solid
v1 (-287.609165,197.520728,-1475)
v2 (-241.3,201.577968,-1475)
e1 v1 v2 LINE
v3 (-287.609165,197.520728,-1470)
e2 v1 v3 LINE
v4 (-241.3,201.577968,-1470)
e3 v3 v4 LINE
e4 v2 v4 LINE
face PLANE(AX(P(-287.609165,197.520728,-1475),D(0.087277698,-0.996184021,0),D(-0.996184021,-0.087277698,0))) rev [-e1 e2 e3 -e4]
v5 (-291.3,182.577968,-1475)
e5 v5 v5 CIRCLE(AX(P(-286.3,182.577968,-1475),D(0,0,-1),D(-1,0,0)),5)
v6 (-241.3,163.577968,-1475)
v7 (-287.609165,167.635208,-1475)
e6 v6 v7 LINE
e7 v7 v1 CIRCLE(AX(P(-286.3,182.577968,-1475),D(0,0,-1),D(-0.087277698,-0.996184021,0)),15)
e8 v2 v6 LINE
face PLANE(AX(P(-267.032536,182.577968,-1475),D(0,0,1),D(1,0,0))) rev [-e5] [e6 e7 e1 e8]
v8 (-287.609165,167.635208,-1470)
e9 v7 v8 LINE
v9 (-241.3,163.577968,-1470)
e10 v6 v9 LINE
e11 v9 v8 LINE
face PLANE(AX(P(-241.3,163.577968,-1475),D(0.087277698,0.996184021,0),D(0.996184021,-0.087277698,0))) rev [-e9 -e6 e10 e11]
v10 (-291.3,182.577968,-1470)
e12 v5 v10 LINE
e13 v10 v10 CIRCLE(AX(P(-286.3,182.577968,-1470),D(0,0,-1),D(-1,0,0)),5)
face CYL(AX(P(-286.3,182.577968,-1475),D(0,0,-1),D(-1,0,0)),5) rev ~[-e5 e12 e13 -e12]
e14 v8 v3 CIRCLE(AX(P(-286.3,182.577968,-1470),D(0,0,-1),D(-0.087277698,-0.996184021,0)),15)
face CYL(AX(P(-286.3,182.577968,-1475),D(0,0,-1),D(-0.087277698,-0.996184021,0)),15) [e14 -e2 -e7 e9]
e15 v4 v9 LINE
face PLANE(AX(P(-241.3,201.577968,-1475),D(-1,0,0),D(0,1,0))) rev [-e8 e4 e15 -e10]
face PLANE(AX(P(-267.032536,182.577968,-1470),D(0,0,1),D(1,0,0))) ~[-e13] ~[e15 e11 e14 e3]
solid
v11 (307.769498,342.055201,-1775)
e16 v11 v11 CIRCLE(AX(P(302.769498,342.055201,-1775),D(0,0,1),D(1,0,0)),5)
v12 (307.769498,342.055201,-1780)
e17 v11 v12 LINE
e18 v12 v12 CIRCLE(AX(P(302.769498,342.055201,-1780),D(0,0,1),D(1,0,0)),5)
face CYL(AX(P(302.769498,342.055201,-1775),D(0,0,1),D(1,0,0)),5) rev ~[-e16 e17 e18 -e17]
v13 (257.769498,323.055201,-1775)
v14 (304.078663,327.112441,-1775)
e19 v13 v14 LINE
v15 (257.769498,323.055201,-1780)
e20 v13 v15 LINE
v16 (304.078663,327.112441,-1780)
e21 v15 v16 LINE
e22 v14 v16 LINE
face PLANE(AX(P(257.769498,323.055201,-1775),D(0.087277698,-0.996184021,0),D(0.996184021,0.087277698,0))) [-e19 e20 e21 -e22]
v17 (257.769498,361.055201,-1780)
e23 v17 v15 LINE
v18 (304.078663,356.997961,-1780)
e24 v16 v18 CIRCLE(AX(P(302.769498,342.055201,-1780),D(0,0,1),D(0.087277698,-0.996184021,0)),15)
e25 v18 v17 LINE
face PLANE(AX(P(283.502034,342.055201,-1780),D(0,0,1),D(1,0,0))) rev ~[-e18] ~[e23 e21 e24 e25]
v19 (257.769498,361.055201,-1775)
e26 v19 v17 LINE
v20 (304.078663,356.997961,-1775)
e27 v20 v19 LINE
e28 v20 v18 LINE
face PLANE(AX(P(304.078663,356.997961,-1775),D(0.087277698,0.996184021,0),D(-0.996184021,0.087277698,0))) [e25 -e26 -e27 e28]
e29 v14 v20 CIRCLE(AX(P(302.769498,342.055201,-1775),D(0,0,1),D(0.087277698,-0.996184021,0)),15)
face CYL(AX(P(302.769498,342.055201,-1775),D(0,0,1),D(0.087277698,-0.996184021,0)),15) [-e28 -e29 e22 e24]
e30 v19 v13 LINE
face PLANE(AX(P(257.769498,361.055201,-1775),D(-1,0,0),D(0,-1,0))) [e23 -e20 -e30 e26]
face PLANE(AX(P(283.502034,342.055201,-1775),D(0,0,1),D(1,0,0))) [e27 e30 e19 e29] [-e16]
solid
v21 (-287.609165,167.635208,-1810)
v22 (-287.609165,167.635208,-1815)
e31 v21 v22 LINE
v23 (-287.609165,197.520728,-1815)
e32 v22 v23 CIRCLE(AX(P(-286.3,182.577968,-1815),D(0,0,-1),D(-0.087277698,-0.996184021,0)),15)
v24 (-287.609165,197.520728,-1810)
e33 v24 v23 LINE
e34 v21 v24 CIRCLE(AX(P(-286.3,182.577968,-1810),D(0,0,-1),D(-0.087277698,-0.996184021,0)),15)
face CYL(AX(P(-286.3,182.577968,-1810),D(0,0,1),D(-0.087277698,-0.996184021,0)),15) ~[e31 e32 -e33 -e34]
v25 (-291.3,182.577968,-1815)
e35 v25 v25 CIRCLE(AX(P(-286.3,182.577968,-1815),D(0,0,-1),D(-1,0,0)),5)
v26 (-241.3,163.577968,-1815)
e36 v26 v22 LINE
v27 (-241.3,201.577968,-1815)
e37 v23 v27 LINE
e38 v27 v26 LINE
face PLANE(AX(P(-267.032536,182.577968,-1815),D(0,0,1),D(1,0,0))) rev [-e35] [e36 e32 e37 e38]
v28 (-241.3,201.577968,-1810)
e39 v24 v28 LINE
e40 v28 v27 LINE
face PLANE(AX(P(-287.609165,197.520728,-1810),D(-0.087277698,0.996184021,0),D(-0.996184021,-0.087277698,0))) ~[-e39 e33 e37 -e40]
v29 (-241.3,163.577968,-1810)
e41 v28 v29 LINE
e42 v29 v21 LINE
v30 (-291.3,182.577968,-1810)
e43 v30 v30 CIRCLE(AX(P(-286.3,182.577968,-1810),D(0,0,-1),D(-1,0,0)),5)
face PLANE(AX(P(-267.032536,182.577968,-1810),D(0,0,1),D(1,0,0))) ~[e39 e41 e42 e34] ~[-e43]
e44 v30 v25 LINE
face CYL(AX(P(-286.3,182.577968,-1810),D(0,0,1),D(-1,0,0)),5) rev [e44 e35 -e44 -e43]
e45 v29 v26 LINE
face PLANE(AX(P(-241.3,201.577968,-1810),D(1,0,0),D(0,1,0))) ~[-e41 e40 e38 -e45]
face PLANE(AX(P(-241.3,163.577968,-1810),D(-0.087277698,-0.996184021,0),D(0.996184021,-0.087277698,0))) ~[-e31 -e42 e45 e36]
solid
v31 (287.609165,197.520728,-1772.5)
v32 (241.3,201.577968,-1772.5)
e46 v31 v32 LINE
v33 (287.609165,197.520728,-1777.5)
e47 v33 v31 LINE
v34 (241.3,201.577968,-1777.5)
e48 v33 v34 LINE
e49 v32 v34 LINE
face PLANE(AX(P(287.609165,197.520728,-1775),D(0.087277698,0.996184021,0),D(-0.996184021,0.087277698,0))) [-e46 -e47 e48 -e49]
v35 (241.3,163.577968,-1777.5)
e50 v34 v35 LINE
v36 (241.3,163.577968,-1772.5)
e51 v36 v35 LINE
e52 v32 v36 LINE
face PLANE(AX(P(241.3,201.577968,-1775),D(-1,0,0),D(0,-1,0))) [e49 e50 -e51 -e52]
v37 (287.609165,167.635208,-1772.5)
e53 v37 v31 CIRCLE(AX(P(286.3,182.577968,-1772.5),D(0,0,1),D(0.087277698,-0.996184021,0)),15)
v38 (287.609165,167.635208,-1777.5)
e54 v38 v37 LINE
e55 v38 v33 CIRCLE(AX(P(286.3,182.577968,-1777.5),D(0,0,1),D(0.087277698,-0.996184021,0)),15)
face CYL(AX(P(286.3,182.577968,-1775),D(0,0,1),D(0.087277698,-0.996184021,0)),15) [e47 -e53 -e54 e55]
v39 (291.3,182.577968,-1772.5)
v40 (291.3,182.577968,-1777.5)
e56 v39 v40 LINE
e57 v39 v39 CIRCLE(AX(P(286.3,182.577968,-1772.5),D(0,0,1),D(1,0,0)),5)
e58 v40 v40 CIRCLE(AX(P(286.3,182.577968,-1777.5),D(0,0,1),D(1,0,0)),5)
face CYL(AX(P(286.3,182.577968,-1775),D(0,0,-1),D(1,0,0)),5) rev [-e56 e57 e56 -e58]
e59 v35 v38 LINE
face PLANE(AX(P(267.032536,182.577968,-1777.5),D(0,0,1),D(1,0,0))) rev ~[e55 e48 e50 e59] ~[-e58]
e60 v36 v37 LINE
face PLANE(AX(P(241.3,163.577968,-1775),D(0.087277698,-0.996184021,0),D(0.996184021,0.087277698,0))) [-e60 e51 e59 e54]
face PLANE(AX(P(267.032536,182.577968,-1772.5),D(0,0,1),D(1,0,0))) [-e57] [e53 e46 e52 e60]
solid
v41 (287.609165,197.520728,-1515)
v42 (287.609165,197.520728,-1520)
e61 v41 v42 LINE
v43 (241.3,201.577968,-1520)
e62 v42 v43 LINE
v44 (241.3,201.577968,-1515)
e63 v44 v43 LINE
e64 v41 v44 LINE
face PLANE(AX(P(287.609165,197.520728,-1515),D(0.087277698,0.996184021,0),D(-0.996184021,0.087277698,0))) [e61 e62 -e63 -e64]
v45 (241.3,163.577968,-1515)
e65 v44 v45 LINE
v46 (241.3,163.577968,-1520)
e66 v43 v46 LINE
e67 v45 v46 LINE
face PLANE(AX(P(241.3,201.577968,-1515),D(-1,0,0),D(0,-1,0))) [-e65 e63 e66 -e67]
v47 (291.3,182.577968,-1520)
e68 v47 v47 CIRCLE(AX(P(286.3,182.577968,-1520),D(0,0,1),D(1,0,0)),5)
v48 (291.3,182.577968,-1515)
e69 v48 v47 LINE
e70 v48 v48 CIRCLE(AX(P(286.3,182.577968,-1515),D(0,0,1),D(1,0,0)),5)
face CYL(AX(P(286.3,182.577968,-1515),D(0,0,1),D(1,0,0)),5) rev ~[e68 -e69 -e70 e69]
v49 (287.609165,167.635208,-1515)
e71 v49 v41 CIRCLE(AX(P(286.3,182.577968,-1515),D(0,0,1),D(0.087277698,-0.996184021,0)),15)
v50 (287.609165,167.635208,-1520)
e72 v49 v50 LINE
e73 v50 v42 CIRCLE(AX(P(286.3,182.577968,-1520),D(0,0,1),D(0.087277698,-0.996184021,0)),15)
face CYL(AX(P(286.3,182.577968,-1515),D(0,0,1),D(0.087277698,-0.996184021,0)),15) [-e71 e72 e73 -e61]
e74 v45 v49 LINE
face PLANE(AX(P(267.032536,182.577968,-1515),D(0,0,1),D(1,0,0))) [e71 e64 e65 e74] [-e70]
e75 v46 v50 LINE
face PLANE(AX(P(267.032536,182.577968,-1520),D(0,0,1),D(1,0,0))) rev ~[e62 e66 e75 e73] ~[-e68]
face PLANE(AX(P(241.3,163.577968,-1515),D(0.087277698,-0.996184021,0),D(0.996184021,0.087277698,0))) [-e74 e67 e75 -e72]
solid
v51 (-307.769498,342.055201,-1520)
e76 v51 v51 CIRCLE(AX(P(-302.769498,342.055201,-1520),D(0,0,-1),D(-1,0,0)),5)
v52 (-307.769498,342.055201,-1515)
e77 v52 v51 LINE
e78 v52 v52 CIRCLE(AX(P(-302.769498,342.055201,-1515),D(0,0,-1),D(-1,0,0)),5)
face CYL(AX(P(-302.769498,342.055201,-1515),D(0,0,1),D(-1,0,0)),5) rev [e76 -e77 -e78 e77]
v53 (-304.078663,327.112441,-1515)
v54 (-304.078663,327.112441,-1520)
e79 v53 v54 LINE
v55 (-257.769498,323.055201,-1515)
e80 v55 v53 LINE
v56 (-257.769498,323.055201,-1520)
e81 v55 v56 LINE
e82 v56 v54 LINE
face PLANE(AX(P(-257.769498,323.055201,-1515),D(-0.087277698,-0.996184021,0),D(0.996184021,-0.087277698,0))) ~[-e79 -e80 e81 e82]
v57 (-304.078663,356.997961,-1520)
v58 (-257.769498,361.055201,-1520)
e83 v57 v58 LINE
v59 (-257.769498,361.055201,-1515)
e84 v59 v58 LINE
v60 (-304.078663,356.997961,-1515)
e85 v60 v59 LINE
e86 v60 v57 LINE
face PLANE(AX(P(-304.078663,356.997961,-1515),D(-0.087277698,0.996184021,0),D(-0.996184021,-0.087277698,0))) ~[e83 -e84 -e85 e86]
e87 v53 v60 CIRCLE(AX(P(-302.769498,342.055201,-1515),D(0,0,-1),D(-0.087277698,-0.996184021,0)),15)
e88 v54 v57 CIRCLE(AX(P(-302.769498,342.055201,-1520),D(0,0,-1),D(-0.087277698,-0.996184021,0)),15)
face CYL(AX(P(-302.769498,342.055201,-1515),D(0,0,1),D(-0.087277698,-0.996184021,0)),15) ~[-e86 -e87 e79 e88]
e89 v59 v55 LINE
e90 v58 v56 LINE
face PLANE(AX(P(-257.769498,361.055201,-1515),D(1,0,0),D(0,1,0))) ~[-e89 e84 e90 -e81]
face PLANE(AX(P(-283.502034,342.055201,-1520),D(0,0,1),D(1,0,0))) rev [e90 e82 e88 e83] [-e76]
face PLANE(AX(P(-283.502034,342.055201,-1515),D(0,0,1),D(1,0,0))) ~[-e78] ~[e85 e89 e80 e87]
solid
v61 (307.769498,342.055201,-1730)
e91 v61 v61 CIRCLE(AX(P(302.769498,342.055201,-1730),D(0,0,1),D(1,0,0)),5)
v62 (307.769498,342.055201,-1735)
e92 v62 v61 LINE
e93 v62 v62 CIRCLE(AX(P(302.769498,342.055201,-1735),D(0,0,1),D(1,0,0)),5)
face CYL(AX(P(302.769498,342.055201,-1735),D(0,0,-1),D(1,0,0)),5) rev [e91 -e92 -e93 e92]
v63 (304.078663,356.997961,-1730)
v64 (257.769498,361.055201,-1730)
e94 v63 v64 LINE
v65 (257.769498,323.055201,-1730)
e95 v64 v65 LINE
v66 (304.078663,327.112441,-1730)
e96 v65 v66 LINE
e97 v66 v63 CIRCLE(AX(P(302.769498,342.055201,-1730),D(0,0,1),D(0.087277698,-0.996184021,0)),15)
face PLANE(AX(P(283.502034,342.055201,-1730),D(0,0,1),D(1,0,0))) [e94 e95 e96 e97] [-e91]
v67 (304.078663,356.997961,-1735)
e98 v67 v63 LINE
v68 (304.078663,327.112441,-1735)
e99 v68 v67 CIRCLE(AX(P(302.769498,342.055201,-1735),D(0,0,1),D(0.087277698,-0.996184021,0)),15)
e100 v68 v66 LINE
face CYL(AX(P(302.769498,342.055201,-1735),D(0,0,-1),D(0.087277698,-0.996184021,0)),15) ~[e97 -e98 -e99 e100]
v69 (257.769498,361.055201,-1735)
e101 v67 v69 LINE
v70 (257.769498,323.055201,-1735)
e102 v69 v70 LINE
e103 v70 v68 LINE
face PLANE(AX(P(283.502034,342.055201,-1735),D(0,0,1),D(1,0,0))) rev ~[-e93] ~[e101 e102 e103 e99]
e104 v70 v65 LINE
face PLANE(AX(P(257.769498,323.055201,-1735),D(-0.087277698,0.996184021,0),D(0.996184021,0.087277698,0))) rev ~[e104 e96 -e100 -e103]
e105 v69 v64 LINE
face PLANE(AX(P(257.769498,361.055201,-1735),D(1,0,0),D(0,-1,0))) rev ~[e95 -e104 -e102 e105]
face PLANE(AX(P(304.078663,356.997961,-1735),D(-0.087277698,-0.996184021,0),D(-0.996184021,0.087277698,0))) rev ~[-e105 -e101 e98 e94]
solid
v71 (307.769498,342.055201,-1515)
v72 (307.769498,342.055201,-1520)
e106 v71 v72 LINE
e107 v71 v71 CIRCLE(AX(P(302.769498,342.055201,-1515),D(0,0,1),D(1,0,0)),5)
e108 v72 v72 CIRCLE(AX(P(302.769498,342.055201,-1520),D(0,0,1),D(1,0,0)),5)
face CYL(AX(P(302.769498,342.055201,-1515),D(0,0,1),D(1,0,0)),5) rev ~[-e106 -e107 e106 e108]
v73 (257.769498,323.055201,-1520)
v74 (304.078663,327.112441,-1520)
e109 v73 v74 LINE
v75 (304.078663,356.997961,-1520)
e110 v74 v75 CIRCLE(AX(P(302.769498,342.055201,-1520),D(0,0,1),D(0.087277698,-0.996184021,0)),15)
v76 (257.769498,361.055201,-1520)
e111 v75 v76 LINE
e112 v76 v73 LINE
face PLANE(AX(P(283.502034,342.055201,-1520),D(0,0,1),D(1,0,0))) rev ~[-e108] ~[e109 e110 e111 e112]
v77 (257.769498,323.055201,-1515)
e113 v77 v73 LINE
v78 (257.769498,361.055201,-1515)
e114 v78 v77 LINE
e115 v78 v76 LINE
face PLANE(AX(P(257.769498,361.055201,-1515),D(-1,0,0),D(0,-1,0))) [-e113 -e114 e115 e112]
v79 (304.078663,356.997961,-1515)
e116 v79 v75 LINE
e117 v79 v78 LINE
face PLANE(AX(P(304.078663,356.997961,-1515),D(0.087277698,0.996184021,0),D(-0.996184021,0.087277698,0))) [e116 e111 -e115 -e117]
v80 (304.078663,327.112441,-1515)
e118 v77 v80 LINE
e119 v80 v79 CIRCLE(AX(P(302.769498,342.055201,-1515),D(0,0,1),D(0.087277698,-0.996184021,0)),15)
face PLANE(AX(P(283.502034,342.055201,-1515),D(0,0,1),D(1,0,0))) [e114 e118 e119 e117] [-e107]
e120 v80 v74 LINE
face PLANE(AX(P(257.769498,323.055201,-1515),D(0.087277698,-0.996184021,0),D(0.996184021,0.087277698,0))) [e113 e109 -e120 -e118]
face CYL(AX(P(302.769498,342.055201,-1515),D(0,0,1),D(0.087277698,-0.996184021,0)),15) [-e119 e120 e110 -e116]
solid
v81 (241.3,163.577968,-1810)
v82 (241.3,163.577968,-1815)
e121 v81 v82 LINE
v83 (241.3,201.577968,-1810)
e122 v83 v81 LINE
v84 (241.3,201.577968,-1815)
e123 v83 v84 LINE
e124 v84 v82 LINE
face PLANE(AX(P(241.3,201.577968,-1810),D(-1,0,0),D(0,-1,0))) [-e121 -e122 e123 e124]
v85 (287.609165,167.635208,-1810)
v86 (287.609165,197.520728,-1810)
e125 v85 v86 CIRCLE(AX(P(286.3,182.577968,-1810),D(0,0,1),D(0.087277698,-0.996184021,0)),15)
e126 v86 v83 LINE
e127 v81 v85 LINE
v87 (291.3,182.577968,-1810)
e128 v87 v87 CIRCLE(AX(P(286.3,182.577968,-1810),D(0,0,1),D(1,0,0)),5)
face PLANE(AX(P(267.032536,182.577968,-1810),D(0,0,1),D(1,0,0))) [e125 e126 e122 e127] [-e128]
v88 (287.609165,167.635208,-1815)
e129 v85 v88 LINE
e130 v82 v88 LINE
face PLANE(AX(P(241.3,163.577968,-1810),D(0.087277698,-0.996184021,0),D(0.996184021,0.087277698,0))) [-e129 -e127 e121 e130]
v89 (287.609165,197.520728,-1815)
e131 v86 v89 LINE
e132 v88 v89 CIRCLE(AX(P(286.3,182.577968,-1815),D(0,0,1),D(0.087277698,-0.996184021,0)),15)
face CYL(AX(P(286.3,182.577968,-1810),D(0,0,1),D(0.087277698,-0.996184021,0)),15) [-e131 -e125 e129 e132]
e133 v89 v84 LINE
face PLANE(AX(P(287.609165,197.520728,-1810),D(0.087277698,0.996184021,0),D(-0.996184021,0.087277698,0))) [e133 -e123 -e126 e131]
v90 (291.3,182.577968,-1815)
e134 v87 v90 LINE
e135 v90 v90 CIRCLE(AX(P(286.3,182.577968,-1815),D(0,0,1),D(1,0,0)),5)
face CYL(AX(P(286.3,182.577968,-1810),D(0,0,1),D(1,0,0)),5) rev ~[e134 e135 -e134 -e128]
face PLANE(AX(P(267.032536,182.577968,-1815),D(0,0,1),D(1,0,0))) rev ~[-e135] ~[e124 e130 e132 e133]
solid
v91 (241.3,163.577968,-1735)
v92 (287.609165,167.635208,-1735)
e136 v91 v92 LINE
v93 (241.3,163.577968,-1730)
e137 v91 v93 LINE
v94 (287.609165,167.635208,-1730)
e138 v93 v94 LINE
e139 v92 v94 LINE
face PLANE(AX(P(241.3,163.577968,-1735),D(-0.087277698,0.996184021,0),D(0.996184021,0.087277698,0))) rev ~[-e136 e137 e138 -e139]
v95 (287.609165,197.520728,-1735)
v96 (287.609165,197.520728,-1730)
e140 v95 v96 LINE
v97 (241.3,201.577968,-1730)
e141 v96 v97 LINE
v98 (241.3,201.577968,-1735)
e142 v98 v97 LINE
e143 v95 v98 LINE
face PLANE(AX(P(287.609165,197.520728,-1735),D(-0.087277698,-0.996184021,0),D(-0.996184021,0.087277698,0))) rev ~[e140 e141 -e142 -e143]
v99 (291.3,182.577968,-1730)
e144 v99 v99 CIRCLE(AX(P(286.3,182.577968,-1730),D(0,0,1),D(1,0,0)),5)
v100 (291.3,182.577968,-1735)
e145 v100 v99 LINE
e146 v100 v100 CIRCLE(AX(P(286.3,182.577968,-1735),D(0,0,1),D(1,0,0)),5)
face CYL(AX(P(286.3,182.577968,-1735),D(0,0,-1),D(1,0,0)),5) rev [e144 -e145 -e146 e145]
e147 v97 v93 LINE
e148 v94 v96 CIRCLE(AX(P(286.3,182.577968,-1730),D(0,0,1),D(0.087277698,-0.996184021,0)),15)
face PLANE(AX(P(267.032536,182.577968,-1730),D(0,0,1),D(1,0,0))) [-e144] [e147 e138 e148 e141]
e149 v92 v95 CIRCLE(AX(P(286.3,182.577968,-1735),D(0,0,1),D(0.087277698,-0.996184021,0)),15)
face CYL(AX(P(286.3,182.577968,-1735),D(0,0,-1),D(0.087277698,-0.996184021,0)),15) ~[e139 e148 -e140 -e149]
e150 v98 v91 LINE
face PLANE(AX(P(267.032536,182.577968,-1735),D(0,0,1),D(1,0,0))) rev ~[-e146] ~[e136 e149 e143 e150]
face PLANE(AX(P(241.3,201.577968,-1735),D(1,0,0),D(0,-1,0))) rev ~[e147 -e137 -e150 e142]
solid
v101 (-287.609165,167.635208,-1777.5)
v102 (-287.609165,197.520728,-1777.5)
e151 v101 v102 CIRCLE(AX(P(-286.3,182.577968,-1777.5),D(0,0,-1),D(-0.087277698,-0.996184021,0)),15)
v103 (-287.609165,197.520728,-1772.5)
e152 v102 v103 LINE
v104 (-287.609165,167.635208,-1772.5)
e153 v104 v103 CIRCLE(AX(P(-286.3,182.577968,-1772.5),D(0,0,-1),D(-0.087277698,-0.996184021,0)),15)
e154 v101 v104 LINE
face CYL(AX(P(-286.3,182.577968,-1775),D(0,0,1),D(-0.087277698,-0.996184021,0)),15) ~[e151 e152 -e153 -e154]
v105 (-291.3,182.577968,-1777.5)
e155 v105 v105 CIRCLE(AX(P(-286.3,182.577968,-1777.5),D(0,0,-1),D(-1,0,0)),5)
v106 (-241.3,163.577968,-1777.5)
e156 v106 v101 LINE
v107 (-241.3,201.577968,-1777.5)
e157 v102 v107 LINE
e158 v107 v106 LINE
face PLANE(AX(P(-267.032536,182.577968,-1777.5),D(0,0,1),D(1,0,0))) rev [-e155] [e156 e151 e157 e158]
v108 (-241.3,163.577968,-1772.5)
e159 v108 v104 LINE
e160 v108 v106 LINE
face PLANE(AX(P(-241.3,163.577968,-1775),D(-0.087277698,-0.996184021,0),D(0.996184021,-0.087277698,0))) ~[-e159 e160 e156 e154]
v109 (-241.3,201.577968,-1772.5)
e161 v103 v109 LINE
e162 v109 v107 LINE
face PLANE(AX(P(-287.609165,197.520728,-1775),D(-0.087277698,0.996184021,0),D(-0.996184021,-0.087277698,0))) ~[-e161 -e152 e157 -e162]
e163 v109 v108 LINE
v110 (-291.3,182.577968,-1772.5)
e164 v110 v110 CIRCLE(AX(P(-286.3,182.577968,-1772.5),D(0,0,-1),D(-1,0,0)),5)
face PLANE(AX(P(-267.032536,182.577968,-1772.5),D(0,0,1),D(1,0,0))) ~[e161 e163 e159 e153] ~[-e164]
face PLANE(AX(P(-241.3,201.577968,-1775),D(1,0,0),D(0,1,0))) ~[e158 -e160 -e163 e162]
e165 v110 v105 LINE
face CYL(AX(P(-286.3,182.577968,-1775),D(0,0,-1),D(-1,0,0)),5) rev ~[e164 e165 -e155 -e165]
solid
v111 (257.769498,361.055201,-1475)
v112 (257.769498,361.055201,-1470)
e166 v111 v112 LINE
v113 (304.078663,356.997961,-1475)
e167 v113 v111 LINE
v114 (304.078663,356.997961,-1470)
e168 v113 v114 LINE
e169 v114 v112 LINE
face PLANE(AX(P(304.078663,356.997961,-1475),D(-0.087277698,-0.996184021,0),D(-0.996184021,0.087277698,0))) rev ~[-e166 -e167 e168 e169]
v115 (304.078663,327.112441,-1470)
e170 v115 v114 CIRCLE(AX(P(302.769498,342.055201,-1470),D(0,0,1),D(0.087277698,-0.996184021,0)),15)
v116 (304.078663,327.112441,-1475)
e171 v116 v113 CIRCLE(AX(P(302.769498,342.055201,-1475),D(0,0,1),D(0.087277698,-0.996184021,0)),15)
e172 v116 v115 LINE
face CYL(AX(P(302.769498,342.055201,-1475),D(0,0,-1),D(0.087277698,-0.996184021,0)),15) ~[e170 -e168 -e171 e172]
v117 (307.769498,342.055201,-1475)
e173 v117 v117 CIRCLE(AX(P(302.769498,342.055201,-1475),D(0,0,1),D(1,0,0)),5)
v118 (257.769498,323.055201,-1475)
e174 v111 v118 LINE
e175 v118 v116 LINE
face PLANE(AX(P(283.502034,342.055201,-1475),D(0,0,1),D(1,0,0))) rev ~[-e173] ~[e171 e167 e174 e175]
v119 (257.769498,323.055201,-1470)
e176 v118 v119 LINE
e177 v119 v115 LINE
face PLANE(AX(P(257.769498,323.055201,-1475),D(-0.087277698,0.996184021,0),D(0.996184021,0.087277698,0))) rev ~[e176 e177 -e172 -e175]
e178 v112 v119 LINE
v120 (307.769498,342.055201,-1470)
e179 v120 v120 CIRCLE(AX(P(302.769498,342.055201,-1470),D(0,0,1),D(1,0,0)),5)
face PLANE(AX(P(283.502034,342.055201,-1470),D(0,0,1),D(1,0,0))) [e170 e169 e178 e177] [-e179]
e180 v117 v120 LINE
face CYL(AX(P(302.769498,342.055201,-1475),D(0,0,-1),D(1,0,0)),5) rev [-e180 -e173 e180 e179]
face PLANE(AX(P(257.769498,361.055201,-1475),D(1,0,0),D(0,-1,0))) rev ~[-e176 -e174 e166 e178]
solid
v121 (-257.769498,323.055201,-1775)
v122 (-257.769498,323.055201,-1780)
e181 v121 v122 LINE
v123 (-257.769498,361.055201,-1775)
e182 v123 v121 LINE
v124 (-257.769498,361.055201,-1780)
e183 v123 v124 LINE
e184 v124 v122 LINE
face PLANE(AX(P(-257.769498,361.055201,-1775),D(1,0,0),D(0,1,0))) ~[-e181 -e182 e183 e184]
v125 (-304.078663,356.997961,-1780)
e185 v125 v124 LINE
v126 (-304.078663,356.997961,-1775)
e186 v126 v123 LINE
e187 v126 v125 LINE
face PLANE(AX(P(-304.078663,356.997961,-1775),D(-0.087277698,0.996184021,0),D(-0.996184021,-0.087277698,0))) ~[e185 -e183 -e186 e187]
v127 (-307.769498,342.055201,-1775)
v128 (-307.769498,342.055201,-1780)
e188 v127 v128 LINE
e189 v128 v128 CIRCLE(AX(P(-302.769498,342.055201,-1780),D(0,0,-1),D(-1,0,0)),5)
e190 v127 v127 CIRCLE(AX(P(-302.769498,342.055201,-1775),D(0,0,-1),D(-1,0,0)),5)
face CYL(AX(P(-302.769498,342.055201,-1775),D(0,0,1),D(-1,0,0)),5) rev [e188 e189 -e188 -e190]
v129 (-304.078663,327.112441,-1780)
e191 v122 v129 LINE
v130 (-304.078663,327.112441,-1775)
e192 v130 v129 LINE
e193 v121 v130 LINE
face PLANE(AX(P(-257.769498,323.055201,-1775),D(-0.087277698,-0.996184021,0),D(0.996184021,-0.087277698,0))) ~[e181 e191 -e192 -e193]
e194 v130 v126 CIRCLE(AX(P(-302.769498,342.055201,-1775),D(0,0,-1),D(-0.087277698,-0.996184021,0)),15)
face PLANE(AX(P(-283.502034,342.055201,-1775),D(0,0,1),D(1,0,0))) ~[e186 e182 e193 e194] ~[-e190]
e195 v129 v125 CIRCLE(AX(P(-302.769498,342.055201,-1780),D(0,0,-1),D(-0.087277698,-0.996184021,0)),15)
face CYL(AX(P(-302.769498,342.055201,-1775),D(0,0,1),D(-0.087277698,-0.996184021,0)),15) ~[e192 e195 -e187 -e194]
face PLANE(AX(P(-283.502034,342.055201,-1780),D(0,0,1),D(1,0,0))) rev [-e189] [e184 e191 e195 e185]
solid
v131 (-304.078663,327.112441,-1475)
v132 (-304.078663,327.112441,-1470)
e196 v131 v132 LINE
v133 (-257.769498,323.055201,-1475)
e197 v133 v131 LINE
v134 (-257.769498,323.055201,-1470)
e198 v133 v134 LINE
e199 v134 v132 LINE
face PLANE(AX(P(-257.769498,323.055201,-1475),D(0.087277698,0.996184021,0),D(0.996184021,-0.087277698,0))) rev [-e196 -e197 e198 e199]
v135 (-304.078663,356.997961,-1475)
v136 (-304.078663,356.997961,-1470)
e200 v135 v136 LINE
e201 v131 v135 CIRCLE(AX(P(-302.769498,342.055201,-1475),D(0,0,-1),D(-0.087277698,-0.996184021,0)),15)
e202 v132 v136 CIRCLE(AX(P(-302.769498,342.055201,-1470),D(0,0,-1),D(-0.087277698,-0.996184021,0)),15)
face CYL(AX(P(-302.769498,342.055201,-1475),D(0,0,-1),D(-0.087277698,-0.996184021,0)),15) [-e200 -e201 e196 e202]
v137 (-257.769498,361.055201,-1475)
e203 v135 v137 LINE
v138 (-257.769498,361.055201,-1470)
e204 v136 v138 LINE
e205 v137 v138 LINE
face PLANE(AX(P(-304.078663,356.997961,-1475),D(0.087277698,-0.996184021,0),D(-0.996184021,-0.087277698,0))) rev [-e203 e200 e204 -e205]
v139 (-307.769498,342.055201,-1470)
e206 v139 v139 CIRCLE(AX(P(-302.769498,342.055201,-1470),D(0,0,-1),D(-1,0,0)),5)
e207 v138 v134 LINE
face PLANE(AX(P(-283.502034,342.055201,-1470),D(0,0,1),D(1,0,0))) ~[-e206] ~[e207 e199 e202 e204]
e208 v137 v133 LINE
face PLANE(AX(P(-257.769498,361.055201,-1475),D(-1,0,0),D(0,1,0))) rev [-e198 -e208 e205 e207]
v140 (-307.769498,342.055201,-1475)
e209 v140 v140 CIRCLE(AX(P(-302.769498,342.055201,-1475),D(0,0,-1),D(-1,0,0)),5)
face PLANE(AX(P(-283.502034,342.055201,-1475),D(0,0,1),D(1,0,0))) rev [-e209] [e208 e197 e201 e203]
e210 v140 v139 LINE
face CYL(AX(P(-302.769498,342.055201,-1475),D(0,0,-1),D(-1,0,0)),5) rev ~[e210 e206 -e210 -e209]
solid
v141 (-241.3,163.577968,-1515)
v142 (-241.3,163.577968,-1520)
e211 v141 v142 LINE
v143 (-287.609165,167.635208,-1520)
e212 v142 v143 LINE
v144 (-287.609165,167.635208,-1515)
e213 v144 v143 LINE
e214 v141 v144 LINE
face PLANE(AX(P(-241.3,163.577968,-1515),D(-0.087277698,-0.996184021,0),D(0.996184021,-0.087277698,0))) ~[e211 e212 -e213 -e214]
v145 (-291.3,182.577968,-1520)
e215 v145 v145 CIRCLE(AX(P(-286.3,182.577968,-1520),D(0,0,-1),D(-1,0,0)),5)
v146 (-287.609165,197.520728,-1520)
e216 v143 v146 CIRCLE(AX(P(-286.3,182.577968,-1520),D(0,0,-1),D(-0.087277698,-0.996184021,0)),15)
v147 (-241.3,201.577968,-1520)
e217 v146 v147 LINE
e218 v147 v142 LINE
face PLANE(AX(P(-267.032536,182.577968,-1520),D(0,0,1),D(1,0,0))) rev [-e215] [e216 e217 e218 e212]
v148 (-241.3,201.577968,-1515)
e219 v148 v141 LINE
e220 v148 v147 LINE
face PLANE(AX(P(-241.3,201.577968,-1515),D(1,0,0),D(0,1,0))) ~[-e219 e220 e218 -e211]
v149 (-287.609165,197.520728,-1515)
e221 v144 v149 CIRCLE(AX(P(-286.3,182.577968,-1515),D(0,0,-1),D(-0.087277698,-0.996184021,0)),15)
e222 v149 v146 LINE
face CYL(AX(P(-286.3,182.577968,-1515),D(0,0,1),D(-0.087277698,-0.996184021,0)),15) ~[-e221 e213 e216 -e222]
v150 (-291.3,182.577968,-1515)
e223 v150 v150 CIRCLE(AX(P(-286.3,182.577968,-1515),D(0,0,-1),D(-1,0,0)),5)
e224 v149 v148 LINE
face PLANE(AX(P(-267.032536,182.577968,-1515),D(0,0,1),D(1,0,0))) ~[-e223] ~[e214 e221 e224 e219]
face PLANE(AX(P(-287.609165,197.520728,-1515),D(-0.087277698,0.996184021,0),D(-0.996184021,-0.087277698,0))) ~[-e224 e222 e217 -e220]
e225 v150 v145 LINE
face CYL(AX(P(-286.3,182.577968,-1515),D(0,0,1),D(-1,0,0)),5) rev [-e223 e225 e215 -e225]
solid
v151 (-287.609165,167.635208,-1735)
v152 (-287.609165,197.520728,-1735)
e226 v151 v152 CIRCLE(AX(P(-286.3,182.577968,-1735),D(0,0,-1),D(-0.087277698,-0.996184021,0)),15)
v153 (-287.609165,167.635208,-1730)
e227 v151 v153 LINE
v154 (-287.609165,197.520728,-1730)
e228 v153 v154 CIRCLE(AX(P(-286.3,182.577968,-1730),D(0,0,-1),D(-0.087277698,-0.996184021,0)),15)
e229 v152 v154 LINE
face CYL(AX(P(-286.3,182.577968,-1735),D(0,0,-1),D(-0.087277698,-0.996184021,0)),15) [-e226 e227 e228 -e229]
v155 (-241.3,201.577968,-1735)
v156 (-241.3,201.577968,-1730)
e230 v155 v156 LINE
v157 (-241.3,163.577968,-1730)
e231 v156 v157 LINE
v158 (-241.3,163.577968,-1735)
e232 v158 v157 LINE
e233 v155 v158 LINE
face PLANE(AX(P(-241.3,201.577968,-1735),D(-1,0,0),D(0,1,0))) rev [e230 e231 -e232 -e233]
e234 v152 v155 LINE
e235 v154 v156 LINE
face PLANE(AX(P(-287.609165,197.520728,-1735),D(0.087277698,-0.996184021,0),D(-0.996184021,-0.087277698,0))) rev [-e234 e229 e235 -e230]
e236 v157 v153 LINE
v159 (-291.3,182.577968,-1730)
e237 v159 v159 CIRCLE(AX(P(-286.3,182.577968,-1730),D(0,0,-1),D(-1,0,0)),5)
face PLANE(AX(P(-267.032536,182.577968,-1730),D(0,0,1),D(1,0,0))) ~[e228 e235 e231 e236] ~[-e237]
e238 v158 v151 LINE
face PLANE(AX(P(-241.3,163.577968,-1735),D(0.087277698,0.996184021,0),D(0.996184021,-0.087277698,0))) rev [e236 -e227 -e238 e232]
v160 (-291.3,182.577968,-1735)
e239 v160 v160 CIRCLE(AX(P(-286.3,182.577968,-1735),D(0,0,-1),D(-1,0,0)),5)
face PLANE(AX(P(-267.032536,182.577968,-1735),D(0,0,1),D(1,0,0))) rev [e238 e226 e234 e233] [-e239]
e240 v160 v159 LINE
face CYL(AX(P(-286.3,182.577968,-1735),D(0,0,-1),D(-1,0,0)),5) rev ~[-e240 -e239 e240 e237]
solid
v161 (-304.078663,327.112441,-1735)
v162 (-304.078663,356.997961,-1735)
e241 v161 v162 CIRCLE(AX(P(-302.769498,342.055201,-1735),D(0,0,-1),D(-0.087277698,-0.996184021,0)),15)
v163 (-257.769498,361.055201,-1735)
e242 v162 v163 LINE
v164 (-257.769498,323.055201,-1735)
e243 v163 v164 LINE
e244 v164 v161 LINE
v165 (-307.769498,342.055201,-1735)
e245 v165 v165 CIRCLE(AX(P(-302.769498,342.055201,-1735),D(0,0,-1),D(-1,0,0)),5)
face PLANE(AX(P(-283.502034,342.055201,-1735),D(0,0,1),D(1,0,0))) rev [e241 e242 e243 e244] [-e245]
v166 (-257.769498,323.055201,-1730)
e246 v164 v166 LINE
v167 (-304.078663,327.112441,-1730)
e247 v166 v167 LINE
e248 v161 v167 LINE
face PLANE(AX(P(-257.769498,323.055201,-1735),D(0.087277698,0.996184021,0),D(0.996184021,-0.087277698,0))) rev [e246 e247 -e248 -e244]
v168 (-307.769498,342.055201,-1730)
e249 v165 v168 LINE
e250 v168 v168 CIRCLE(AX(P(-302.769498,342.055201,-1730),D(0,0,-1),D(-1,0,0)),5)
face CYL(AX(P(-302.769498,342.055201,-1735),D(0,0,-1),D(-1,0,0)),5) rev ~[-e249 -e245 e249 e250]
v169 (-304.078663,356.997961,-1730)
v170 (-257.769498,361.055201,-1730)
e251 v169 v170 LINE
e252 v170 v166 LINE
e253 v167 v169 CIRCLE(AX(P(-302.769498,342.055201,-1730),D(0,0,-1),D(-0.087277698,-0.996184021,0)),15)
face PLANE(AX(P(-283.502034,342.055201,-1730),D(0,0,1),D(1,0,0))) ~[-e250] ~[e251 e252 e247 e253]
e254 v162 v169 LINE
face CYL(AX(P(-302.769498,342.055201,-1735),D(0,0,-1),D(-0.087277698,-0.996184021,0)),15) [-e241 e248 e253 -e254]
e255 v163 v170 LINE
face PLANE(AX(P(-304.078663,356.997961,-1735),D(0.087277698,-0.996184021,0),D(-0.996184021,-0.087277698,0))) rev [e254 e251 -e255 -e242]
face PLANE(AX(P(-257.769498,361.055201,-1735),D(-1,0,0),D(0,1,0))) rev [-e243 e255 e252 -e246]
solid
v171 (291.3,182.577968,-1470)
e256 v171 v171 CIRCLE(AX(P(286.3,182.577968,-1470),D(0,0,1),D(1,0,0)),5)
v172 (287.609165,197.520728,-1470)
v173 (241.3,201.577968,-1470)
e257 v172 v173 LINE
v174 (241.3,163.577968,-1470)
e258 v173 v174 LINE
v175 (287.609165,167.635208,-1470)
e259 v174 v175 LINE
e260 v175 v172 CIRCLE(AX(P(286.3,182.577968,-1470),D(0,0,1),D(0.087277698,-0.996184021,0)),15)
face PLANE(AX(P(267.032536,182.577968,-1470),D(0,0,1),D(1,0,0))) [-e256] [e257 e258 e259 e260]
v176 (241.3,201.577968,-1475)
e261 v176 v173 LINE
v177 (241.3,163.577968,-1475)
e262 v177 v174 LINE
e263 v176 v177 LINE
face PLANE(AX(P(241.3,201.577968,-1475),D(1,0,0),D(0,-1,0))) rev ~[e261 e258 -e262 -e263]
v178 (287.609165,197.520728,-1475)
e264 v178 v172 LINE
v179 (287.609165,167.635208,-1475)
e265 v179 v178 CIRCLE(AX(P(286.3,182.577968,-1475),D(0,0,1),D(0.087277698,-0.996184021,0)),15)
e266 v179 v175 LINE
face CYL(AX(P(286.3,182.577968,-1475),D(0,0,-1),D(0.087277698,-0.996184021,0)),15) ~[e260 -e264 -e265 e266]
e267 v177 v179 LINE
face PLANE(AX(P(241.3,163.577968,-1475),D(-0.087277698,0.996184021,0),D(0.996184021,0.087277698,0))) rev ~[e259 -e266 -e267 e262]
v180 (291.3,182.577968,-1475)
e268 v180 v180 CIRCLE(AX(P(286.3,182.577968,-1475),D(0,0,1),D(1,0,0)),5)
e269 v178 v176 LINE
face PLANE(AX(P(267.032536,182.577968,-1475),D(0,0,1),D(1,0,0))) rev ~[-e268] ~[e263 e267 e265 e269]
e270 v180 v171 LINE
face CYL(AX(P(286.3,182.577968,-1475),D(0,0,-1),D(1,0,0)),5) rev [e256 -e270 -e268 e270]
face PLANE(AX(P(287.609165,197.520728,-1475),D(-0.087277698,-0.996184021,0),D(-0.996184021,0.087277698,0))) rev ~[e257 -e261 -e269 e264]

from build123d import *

# Parameters (mm, degrees)
BOSS_EXTRUDE1_START = 20
SKETCH1_R           = 5
BOSS_EXTRUDE1_DEPTH = 5
BOSS_EXTRUDE2_START = -20
SKETCH1_3_R         = 5
BOSS_EXTRUDE2_DEPTH = 5
BOSS_EXTRUDE3_START = -20
SKETCH2_R           = 5
BOSS_EXTRUDE3_DEPTH = 5
BOSS_EXTRUDE4_START = 20
SKETCH2_4_R         = 5
BOSS_EXTRUDE4_DEPTH = 5
BOSS_EXTRUDE5_START = 20
SKETCH3_R           = 5
BOSS_EXTRUDE5_DEPTH = 5
BOSS_EXTRUDE6_START = -20
SKETCH3_3_R         = 5
BOSS_EXTRUDE6_DEPTH = 5
BOSS_EXTRUDE7_START = 20
SKETCH4_R           = 5
BOSS_EXTRUDE7_DEPTH = 5
BOSS_EXTRUDE8_START = -20
SKETCH4_3_R         = 5
BOSS_EXTRUDE8_DEPTH = 2.5
BOSS_EXTRUDE9_START = -15
SKETCH5_R           = 5
BOSS_EXTRUDE9_DEPTH = 5


with BuildPart() as part:
    # Sketch1 → Boss-Extrude1 (new body)
    with BuildSketch(Plane.XY.offset(-1495).offset(BOSS_EXTRUDE1_START)):
        with BuildLine():
            Line((257.769498028, 323.055200897), (304.078663494, 327.112440584))
            ThreePointArc((304.078663494, 327.112440584), (317.769498028, 342.055200897), (304.078663494, 356.99796121))
            Line((304.078663494, 356.99796121), (257.769498028, 361.055200897))
            Line((257.769498028, 361.055200897), (257.769498028, 323.055200897))
        make_face()
        with Locations((302.769498028, 342.055200897)):
            Circle(SKETCH1_R, mode=Mode.SUBTRACT)
    extrude(amount=BOSS_EXTRUDE1_DEPTH)


with BuildPart() as body_2:
    # Sketch1<3> → Boss-Extrude2 (new body)
    with BuildSketch(Plane.XY.offset(-1495).offset(BOSS_EXTRUDE2_START)):
        with BuildLine():
            Line((257.769498028, 323.055200897), (304.078663494, 327.112440584))
            ThreePointArc((304.078663494, 327.112440584), (317.769498028, 342.055200897), (304.078663494, 356.99796121))
            Line((304.078663494, 356.99796121), (257.769498028, 361.055200897))
            Line((257.769498028, 361.055200897), (257.769498028, 323.055200897))
        make_face()
        with Locations((302.769498028, 342.055200897)):
            Circle(SKETCH1_3_R, mode=Mode.SUBTRACT)
    extrude(amount=-BOSS_EXTRUDE2_DEPTH)


with BuildPart() as body_3:
    # Sketch2 → Boss-Extrude3 (new body)
    with BuildSketch(Plane.XY.offset(-1755).offset(BOSS_EXTRUDE3_START)):
        with BuildLine():
            Line((257.769498028, 323.055200897), (304.078663494, 327.112440584))
            ThreePointArc((304.078663494, 327.112440584), (317.769498028, 342.055200897), (304.078663494, 356.99796121))
            Line((304.078663494, 356.99796121), (257.769498028, 361.055200897))
            Line((257.769498028, 361.055200897), (257.769498028, 323.055200897))
        make_face()
        with Locations((302.769498028, 342.055200897)):
            Circle(SKETCH2_R, mode=Mode.SUBTRACT)
    extrude(amount=-BOSS_EXTRUDE3_DEPTH)


with BuildPart() as body_4:
    # Sketch2<4> → Boss-Extrude4 (new body)
    with BuildSketch(Plane.XY.offset(-1755).offset(BOSS_EXTRUDE4_START)):
        with BuildLine():
            Line((257.769498028, 323.055200897), (304.078663494, 327.112440584))
            ThreePointArc((304.078663494, 327.112440584), (317.769498028, 342.055200897), (304.078663494, 356.99796121))
            Line((304.078663494, 356.99796121), (257.769498028, 361.055200897))
            Line((257.769498028, 361.055200897), (257.769498028, 323.055200897))
        make_face()
        with Locations((302.769498028, 342.055200897)):
            Circle(SKETCH2_4_R, mode=Mode.SUBTRACT)
    extrude(amount=BOSS_EXTRUDE4_DEPTH)


with BuildPart() as body_5:
    # Sketch3 → Boss-Extrude5 (new body)
    with BuildSketch(Plane.XY.offset(-1495).offset(BOSS_EXTRUDE5_START)):
        with BuildLine():
            Line((241.3, 201.577968064), (241.3, 163.577968064))
            Line((241.3, 163.577968064), (287.609165466, 167.635207751))
            ThreePointArc((287.609165466, 167.635207751), (301.3, 182.577968064), (287.609165466, 197.520728378))
            Line((287.609165466, 197.520728378), (241.3, 201.577968064))
        make_face()
        with Locations((286.3, 182.577968064)):
            Circle(SKETCH3_R, mode=Mode.SUBTRACT)
    extrude(amount=BOSS_EXTRUDE5_DEPTH)


with BuildPart() as body_6:
    # Sketch3<3> → Boss-Extrude6 (new body)
    with BuildSketch(Plane.XY.offset(-1495).offset(BOSS_EXTRUDE6_START)):
        with BuildLine():
            Line((241.3, 201.577968064), (241.3, 163.577968064))
            Line((241.3, 163.577968064), (287.609165466, 167.635207751))
            ThreePointArc((287.609165466, 167.635207751), (301.3, 182.577968064), (287.609165466, 197.520728378))
            Line((287.609165466, 197.520728378), (241.3, 201.577968064))
        make_face()
        with Locations((286.3, 182.577968064)):
            Circle(SKETCH3_3_R, mode=Mode.SUBTRACT)
    extrude(amount=-BOSS_EXTRUDE6_DEPTH)


with BuildPart() as body_7:
    # Sketch4 → Boss-Extrude7 (new body)
    with BuildSketch(Plane.XY.offset(-1755).offset(BOSS_EXTRUDE7_START)):
        with BuildLine():
            Line((241.3, 163.577968064), (287.609165466, 167.635207751))
            ThreePointArc((287.609165466, 167.635207751), (301.3, 182.577968064), (287.609165466, 197.520728378))
            Line((287.609165466, 197.520728378), (241.3, 201.577968064))
            Line((241.3, 201.577968064), (241.3, 163.577968064))
        make_face()
        with Locations((286.3, 182.577968064)):
            Circle(SKETCH4_R, mode=Mode.SUBTRACT)
    extrude(amount=BOSS_EXTRUDE7_DEPTH)


with BuildPart() as body_8:
    # Sketch4<3> → Boss-Extrude8 (new, symmetric)
    with BuildSketch(Plane.XY.offset(-1755).offset(BOSS_EXTRUDE8_START)):
        with BuildLine():
            Line((241.3, 163.577968064), (287.609165466, 167.635207751))
            ThreePointArc((287.609165466, 167.635207751), (301.3, 182.577968064), (287.609165466, 197.520728378))
            Line((287.609165466, 197.520728378), (241.3, 201.577968064))
            Line((241.3, 201.577968064), (241.3, 163.577968064))
        make_face()
        with Locations((286.3, 182.577968064)):
            Circle(SKETCH4_3_R, mode=Mode.SUBTRACT)
    extrude(amount=BOSS_EXTRUDE8_DEPTH, both=True)


with BuildPart() as body_9:
    # Sketch5 → Boss-Extrude9 (new body)
    with BuildSketch(Plane.XY.offset(-1795).offset(BOSS_EXTRUDE9_START)):
        with BuildLine():
            Line((241.3, 163.577968064), (287.609165466, 167.635207751))
            ThreePointArc((287.609165466, 167.635207751), (301.3, 182.577968064), (287.609165466, 197.520728378))
            Line((287.609165466, 197.520728378), (241.3, 201.577968064))
            Line((241.3, 201.577968064), (241.3, 163.577968064))
        make_face()
        with Locations((286.3, 182.577968064)):
            Circle(SKETCH5_R, mode=Mode.SUBTRACT)
    extrude(amount=-BOSS_EXTRUDE9_DEPTH)


with BuildPart() as body_10:
    # Mirror1: mirrored copy
    add(part.part.mirror(Plane(origin=(0, 0, 0), x_dir=(0, 0, 1), z_dir=(1, 0, 0))))


with BuildPart() as body_11:
    # Mirror1 2: mirrored copy
    add(body_2.part.mirror(Plane(origin=(0, 0, 0), x_dir=(0, 0, 1), z_dir=(1, 0, 0))))


with BuildPart() as body_12:
    # Mirror1 3: mirrored copy
    add(body_4.part.mirror(Plane(origin=(0, 0, 0), x_dir=(0, 0, 1), z_dir=(1, 0, 0))))


with BuildPart() as body_13:
    # Mirror1 4: mirrored copy
    add(body_3.part.mirror(Plane(origin=(0, 0, 0), x_dir=(0, 0, 1), z_dir=(1, 0, 0))))


with BuildPart() as body_14:
    # Mirror1 5: mirrored copy
    add(body_5.part.mirror(Plane(origin=(0, 0, 0), x_dir=(0, 0, 1), z_dir=(1, 0, 0))))


with BuildPart() as body_15:
    # Mirror1 6: mirrored copy
    add(body_6.part.mirror(Plane(origin=(0, 0, 0), x_dir=(0, 0, 1), z_dir=(1, 0, 0))))


with BuildPart() as body_16:
    # Mirror1 7: mirrored copy
    add(body_7.part.mirror(Plane(origin=(0, 0, 0), x_dir=(0, 0, 1), z_dir=(1, 0, 0))))


with BuildPart() as body_17:
    # Mirror1 8: mirrored copy
    add(body_8.part.mirror(Plane(origin=(0, 0, 0), x_dir=(0, 0, 1), z_dir=(1, 0, 0))))


with BuildPart() as body_18:
    # Mirror1 9: mirrored copy
    add(body_9.part.mirror(Plane(origin=(0, 0, 0), x_dir=(0, 0, 1), z_dir=(1, 0, 0))))


solid = Compound([part.part, body_2.part, body_3.part, body_4.part, body_5.part, body_6.part, body_7.part, body_8.part, body_9.part, body_10.part, body_11.part, body_12.part, body_13.part, body_14.part, body_15.part, body_16.part, body_17.part, body_18.part])
